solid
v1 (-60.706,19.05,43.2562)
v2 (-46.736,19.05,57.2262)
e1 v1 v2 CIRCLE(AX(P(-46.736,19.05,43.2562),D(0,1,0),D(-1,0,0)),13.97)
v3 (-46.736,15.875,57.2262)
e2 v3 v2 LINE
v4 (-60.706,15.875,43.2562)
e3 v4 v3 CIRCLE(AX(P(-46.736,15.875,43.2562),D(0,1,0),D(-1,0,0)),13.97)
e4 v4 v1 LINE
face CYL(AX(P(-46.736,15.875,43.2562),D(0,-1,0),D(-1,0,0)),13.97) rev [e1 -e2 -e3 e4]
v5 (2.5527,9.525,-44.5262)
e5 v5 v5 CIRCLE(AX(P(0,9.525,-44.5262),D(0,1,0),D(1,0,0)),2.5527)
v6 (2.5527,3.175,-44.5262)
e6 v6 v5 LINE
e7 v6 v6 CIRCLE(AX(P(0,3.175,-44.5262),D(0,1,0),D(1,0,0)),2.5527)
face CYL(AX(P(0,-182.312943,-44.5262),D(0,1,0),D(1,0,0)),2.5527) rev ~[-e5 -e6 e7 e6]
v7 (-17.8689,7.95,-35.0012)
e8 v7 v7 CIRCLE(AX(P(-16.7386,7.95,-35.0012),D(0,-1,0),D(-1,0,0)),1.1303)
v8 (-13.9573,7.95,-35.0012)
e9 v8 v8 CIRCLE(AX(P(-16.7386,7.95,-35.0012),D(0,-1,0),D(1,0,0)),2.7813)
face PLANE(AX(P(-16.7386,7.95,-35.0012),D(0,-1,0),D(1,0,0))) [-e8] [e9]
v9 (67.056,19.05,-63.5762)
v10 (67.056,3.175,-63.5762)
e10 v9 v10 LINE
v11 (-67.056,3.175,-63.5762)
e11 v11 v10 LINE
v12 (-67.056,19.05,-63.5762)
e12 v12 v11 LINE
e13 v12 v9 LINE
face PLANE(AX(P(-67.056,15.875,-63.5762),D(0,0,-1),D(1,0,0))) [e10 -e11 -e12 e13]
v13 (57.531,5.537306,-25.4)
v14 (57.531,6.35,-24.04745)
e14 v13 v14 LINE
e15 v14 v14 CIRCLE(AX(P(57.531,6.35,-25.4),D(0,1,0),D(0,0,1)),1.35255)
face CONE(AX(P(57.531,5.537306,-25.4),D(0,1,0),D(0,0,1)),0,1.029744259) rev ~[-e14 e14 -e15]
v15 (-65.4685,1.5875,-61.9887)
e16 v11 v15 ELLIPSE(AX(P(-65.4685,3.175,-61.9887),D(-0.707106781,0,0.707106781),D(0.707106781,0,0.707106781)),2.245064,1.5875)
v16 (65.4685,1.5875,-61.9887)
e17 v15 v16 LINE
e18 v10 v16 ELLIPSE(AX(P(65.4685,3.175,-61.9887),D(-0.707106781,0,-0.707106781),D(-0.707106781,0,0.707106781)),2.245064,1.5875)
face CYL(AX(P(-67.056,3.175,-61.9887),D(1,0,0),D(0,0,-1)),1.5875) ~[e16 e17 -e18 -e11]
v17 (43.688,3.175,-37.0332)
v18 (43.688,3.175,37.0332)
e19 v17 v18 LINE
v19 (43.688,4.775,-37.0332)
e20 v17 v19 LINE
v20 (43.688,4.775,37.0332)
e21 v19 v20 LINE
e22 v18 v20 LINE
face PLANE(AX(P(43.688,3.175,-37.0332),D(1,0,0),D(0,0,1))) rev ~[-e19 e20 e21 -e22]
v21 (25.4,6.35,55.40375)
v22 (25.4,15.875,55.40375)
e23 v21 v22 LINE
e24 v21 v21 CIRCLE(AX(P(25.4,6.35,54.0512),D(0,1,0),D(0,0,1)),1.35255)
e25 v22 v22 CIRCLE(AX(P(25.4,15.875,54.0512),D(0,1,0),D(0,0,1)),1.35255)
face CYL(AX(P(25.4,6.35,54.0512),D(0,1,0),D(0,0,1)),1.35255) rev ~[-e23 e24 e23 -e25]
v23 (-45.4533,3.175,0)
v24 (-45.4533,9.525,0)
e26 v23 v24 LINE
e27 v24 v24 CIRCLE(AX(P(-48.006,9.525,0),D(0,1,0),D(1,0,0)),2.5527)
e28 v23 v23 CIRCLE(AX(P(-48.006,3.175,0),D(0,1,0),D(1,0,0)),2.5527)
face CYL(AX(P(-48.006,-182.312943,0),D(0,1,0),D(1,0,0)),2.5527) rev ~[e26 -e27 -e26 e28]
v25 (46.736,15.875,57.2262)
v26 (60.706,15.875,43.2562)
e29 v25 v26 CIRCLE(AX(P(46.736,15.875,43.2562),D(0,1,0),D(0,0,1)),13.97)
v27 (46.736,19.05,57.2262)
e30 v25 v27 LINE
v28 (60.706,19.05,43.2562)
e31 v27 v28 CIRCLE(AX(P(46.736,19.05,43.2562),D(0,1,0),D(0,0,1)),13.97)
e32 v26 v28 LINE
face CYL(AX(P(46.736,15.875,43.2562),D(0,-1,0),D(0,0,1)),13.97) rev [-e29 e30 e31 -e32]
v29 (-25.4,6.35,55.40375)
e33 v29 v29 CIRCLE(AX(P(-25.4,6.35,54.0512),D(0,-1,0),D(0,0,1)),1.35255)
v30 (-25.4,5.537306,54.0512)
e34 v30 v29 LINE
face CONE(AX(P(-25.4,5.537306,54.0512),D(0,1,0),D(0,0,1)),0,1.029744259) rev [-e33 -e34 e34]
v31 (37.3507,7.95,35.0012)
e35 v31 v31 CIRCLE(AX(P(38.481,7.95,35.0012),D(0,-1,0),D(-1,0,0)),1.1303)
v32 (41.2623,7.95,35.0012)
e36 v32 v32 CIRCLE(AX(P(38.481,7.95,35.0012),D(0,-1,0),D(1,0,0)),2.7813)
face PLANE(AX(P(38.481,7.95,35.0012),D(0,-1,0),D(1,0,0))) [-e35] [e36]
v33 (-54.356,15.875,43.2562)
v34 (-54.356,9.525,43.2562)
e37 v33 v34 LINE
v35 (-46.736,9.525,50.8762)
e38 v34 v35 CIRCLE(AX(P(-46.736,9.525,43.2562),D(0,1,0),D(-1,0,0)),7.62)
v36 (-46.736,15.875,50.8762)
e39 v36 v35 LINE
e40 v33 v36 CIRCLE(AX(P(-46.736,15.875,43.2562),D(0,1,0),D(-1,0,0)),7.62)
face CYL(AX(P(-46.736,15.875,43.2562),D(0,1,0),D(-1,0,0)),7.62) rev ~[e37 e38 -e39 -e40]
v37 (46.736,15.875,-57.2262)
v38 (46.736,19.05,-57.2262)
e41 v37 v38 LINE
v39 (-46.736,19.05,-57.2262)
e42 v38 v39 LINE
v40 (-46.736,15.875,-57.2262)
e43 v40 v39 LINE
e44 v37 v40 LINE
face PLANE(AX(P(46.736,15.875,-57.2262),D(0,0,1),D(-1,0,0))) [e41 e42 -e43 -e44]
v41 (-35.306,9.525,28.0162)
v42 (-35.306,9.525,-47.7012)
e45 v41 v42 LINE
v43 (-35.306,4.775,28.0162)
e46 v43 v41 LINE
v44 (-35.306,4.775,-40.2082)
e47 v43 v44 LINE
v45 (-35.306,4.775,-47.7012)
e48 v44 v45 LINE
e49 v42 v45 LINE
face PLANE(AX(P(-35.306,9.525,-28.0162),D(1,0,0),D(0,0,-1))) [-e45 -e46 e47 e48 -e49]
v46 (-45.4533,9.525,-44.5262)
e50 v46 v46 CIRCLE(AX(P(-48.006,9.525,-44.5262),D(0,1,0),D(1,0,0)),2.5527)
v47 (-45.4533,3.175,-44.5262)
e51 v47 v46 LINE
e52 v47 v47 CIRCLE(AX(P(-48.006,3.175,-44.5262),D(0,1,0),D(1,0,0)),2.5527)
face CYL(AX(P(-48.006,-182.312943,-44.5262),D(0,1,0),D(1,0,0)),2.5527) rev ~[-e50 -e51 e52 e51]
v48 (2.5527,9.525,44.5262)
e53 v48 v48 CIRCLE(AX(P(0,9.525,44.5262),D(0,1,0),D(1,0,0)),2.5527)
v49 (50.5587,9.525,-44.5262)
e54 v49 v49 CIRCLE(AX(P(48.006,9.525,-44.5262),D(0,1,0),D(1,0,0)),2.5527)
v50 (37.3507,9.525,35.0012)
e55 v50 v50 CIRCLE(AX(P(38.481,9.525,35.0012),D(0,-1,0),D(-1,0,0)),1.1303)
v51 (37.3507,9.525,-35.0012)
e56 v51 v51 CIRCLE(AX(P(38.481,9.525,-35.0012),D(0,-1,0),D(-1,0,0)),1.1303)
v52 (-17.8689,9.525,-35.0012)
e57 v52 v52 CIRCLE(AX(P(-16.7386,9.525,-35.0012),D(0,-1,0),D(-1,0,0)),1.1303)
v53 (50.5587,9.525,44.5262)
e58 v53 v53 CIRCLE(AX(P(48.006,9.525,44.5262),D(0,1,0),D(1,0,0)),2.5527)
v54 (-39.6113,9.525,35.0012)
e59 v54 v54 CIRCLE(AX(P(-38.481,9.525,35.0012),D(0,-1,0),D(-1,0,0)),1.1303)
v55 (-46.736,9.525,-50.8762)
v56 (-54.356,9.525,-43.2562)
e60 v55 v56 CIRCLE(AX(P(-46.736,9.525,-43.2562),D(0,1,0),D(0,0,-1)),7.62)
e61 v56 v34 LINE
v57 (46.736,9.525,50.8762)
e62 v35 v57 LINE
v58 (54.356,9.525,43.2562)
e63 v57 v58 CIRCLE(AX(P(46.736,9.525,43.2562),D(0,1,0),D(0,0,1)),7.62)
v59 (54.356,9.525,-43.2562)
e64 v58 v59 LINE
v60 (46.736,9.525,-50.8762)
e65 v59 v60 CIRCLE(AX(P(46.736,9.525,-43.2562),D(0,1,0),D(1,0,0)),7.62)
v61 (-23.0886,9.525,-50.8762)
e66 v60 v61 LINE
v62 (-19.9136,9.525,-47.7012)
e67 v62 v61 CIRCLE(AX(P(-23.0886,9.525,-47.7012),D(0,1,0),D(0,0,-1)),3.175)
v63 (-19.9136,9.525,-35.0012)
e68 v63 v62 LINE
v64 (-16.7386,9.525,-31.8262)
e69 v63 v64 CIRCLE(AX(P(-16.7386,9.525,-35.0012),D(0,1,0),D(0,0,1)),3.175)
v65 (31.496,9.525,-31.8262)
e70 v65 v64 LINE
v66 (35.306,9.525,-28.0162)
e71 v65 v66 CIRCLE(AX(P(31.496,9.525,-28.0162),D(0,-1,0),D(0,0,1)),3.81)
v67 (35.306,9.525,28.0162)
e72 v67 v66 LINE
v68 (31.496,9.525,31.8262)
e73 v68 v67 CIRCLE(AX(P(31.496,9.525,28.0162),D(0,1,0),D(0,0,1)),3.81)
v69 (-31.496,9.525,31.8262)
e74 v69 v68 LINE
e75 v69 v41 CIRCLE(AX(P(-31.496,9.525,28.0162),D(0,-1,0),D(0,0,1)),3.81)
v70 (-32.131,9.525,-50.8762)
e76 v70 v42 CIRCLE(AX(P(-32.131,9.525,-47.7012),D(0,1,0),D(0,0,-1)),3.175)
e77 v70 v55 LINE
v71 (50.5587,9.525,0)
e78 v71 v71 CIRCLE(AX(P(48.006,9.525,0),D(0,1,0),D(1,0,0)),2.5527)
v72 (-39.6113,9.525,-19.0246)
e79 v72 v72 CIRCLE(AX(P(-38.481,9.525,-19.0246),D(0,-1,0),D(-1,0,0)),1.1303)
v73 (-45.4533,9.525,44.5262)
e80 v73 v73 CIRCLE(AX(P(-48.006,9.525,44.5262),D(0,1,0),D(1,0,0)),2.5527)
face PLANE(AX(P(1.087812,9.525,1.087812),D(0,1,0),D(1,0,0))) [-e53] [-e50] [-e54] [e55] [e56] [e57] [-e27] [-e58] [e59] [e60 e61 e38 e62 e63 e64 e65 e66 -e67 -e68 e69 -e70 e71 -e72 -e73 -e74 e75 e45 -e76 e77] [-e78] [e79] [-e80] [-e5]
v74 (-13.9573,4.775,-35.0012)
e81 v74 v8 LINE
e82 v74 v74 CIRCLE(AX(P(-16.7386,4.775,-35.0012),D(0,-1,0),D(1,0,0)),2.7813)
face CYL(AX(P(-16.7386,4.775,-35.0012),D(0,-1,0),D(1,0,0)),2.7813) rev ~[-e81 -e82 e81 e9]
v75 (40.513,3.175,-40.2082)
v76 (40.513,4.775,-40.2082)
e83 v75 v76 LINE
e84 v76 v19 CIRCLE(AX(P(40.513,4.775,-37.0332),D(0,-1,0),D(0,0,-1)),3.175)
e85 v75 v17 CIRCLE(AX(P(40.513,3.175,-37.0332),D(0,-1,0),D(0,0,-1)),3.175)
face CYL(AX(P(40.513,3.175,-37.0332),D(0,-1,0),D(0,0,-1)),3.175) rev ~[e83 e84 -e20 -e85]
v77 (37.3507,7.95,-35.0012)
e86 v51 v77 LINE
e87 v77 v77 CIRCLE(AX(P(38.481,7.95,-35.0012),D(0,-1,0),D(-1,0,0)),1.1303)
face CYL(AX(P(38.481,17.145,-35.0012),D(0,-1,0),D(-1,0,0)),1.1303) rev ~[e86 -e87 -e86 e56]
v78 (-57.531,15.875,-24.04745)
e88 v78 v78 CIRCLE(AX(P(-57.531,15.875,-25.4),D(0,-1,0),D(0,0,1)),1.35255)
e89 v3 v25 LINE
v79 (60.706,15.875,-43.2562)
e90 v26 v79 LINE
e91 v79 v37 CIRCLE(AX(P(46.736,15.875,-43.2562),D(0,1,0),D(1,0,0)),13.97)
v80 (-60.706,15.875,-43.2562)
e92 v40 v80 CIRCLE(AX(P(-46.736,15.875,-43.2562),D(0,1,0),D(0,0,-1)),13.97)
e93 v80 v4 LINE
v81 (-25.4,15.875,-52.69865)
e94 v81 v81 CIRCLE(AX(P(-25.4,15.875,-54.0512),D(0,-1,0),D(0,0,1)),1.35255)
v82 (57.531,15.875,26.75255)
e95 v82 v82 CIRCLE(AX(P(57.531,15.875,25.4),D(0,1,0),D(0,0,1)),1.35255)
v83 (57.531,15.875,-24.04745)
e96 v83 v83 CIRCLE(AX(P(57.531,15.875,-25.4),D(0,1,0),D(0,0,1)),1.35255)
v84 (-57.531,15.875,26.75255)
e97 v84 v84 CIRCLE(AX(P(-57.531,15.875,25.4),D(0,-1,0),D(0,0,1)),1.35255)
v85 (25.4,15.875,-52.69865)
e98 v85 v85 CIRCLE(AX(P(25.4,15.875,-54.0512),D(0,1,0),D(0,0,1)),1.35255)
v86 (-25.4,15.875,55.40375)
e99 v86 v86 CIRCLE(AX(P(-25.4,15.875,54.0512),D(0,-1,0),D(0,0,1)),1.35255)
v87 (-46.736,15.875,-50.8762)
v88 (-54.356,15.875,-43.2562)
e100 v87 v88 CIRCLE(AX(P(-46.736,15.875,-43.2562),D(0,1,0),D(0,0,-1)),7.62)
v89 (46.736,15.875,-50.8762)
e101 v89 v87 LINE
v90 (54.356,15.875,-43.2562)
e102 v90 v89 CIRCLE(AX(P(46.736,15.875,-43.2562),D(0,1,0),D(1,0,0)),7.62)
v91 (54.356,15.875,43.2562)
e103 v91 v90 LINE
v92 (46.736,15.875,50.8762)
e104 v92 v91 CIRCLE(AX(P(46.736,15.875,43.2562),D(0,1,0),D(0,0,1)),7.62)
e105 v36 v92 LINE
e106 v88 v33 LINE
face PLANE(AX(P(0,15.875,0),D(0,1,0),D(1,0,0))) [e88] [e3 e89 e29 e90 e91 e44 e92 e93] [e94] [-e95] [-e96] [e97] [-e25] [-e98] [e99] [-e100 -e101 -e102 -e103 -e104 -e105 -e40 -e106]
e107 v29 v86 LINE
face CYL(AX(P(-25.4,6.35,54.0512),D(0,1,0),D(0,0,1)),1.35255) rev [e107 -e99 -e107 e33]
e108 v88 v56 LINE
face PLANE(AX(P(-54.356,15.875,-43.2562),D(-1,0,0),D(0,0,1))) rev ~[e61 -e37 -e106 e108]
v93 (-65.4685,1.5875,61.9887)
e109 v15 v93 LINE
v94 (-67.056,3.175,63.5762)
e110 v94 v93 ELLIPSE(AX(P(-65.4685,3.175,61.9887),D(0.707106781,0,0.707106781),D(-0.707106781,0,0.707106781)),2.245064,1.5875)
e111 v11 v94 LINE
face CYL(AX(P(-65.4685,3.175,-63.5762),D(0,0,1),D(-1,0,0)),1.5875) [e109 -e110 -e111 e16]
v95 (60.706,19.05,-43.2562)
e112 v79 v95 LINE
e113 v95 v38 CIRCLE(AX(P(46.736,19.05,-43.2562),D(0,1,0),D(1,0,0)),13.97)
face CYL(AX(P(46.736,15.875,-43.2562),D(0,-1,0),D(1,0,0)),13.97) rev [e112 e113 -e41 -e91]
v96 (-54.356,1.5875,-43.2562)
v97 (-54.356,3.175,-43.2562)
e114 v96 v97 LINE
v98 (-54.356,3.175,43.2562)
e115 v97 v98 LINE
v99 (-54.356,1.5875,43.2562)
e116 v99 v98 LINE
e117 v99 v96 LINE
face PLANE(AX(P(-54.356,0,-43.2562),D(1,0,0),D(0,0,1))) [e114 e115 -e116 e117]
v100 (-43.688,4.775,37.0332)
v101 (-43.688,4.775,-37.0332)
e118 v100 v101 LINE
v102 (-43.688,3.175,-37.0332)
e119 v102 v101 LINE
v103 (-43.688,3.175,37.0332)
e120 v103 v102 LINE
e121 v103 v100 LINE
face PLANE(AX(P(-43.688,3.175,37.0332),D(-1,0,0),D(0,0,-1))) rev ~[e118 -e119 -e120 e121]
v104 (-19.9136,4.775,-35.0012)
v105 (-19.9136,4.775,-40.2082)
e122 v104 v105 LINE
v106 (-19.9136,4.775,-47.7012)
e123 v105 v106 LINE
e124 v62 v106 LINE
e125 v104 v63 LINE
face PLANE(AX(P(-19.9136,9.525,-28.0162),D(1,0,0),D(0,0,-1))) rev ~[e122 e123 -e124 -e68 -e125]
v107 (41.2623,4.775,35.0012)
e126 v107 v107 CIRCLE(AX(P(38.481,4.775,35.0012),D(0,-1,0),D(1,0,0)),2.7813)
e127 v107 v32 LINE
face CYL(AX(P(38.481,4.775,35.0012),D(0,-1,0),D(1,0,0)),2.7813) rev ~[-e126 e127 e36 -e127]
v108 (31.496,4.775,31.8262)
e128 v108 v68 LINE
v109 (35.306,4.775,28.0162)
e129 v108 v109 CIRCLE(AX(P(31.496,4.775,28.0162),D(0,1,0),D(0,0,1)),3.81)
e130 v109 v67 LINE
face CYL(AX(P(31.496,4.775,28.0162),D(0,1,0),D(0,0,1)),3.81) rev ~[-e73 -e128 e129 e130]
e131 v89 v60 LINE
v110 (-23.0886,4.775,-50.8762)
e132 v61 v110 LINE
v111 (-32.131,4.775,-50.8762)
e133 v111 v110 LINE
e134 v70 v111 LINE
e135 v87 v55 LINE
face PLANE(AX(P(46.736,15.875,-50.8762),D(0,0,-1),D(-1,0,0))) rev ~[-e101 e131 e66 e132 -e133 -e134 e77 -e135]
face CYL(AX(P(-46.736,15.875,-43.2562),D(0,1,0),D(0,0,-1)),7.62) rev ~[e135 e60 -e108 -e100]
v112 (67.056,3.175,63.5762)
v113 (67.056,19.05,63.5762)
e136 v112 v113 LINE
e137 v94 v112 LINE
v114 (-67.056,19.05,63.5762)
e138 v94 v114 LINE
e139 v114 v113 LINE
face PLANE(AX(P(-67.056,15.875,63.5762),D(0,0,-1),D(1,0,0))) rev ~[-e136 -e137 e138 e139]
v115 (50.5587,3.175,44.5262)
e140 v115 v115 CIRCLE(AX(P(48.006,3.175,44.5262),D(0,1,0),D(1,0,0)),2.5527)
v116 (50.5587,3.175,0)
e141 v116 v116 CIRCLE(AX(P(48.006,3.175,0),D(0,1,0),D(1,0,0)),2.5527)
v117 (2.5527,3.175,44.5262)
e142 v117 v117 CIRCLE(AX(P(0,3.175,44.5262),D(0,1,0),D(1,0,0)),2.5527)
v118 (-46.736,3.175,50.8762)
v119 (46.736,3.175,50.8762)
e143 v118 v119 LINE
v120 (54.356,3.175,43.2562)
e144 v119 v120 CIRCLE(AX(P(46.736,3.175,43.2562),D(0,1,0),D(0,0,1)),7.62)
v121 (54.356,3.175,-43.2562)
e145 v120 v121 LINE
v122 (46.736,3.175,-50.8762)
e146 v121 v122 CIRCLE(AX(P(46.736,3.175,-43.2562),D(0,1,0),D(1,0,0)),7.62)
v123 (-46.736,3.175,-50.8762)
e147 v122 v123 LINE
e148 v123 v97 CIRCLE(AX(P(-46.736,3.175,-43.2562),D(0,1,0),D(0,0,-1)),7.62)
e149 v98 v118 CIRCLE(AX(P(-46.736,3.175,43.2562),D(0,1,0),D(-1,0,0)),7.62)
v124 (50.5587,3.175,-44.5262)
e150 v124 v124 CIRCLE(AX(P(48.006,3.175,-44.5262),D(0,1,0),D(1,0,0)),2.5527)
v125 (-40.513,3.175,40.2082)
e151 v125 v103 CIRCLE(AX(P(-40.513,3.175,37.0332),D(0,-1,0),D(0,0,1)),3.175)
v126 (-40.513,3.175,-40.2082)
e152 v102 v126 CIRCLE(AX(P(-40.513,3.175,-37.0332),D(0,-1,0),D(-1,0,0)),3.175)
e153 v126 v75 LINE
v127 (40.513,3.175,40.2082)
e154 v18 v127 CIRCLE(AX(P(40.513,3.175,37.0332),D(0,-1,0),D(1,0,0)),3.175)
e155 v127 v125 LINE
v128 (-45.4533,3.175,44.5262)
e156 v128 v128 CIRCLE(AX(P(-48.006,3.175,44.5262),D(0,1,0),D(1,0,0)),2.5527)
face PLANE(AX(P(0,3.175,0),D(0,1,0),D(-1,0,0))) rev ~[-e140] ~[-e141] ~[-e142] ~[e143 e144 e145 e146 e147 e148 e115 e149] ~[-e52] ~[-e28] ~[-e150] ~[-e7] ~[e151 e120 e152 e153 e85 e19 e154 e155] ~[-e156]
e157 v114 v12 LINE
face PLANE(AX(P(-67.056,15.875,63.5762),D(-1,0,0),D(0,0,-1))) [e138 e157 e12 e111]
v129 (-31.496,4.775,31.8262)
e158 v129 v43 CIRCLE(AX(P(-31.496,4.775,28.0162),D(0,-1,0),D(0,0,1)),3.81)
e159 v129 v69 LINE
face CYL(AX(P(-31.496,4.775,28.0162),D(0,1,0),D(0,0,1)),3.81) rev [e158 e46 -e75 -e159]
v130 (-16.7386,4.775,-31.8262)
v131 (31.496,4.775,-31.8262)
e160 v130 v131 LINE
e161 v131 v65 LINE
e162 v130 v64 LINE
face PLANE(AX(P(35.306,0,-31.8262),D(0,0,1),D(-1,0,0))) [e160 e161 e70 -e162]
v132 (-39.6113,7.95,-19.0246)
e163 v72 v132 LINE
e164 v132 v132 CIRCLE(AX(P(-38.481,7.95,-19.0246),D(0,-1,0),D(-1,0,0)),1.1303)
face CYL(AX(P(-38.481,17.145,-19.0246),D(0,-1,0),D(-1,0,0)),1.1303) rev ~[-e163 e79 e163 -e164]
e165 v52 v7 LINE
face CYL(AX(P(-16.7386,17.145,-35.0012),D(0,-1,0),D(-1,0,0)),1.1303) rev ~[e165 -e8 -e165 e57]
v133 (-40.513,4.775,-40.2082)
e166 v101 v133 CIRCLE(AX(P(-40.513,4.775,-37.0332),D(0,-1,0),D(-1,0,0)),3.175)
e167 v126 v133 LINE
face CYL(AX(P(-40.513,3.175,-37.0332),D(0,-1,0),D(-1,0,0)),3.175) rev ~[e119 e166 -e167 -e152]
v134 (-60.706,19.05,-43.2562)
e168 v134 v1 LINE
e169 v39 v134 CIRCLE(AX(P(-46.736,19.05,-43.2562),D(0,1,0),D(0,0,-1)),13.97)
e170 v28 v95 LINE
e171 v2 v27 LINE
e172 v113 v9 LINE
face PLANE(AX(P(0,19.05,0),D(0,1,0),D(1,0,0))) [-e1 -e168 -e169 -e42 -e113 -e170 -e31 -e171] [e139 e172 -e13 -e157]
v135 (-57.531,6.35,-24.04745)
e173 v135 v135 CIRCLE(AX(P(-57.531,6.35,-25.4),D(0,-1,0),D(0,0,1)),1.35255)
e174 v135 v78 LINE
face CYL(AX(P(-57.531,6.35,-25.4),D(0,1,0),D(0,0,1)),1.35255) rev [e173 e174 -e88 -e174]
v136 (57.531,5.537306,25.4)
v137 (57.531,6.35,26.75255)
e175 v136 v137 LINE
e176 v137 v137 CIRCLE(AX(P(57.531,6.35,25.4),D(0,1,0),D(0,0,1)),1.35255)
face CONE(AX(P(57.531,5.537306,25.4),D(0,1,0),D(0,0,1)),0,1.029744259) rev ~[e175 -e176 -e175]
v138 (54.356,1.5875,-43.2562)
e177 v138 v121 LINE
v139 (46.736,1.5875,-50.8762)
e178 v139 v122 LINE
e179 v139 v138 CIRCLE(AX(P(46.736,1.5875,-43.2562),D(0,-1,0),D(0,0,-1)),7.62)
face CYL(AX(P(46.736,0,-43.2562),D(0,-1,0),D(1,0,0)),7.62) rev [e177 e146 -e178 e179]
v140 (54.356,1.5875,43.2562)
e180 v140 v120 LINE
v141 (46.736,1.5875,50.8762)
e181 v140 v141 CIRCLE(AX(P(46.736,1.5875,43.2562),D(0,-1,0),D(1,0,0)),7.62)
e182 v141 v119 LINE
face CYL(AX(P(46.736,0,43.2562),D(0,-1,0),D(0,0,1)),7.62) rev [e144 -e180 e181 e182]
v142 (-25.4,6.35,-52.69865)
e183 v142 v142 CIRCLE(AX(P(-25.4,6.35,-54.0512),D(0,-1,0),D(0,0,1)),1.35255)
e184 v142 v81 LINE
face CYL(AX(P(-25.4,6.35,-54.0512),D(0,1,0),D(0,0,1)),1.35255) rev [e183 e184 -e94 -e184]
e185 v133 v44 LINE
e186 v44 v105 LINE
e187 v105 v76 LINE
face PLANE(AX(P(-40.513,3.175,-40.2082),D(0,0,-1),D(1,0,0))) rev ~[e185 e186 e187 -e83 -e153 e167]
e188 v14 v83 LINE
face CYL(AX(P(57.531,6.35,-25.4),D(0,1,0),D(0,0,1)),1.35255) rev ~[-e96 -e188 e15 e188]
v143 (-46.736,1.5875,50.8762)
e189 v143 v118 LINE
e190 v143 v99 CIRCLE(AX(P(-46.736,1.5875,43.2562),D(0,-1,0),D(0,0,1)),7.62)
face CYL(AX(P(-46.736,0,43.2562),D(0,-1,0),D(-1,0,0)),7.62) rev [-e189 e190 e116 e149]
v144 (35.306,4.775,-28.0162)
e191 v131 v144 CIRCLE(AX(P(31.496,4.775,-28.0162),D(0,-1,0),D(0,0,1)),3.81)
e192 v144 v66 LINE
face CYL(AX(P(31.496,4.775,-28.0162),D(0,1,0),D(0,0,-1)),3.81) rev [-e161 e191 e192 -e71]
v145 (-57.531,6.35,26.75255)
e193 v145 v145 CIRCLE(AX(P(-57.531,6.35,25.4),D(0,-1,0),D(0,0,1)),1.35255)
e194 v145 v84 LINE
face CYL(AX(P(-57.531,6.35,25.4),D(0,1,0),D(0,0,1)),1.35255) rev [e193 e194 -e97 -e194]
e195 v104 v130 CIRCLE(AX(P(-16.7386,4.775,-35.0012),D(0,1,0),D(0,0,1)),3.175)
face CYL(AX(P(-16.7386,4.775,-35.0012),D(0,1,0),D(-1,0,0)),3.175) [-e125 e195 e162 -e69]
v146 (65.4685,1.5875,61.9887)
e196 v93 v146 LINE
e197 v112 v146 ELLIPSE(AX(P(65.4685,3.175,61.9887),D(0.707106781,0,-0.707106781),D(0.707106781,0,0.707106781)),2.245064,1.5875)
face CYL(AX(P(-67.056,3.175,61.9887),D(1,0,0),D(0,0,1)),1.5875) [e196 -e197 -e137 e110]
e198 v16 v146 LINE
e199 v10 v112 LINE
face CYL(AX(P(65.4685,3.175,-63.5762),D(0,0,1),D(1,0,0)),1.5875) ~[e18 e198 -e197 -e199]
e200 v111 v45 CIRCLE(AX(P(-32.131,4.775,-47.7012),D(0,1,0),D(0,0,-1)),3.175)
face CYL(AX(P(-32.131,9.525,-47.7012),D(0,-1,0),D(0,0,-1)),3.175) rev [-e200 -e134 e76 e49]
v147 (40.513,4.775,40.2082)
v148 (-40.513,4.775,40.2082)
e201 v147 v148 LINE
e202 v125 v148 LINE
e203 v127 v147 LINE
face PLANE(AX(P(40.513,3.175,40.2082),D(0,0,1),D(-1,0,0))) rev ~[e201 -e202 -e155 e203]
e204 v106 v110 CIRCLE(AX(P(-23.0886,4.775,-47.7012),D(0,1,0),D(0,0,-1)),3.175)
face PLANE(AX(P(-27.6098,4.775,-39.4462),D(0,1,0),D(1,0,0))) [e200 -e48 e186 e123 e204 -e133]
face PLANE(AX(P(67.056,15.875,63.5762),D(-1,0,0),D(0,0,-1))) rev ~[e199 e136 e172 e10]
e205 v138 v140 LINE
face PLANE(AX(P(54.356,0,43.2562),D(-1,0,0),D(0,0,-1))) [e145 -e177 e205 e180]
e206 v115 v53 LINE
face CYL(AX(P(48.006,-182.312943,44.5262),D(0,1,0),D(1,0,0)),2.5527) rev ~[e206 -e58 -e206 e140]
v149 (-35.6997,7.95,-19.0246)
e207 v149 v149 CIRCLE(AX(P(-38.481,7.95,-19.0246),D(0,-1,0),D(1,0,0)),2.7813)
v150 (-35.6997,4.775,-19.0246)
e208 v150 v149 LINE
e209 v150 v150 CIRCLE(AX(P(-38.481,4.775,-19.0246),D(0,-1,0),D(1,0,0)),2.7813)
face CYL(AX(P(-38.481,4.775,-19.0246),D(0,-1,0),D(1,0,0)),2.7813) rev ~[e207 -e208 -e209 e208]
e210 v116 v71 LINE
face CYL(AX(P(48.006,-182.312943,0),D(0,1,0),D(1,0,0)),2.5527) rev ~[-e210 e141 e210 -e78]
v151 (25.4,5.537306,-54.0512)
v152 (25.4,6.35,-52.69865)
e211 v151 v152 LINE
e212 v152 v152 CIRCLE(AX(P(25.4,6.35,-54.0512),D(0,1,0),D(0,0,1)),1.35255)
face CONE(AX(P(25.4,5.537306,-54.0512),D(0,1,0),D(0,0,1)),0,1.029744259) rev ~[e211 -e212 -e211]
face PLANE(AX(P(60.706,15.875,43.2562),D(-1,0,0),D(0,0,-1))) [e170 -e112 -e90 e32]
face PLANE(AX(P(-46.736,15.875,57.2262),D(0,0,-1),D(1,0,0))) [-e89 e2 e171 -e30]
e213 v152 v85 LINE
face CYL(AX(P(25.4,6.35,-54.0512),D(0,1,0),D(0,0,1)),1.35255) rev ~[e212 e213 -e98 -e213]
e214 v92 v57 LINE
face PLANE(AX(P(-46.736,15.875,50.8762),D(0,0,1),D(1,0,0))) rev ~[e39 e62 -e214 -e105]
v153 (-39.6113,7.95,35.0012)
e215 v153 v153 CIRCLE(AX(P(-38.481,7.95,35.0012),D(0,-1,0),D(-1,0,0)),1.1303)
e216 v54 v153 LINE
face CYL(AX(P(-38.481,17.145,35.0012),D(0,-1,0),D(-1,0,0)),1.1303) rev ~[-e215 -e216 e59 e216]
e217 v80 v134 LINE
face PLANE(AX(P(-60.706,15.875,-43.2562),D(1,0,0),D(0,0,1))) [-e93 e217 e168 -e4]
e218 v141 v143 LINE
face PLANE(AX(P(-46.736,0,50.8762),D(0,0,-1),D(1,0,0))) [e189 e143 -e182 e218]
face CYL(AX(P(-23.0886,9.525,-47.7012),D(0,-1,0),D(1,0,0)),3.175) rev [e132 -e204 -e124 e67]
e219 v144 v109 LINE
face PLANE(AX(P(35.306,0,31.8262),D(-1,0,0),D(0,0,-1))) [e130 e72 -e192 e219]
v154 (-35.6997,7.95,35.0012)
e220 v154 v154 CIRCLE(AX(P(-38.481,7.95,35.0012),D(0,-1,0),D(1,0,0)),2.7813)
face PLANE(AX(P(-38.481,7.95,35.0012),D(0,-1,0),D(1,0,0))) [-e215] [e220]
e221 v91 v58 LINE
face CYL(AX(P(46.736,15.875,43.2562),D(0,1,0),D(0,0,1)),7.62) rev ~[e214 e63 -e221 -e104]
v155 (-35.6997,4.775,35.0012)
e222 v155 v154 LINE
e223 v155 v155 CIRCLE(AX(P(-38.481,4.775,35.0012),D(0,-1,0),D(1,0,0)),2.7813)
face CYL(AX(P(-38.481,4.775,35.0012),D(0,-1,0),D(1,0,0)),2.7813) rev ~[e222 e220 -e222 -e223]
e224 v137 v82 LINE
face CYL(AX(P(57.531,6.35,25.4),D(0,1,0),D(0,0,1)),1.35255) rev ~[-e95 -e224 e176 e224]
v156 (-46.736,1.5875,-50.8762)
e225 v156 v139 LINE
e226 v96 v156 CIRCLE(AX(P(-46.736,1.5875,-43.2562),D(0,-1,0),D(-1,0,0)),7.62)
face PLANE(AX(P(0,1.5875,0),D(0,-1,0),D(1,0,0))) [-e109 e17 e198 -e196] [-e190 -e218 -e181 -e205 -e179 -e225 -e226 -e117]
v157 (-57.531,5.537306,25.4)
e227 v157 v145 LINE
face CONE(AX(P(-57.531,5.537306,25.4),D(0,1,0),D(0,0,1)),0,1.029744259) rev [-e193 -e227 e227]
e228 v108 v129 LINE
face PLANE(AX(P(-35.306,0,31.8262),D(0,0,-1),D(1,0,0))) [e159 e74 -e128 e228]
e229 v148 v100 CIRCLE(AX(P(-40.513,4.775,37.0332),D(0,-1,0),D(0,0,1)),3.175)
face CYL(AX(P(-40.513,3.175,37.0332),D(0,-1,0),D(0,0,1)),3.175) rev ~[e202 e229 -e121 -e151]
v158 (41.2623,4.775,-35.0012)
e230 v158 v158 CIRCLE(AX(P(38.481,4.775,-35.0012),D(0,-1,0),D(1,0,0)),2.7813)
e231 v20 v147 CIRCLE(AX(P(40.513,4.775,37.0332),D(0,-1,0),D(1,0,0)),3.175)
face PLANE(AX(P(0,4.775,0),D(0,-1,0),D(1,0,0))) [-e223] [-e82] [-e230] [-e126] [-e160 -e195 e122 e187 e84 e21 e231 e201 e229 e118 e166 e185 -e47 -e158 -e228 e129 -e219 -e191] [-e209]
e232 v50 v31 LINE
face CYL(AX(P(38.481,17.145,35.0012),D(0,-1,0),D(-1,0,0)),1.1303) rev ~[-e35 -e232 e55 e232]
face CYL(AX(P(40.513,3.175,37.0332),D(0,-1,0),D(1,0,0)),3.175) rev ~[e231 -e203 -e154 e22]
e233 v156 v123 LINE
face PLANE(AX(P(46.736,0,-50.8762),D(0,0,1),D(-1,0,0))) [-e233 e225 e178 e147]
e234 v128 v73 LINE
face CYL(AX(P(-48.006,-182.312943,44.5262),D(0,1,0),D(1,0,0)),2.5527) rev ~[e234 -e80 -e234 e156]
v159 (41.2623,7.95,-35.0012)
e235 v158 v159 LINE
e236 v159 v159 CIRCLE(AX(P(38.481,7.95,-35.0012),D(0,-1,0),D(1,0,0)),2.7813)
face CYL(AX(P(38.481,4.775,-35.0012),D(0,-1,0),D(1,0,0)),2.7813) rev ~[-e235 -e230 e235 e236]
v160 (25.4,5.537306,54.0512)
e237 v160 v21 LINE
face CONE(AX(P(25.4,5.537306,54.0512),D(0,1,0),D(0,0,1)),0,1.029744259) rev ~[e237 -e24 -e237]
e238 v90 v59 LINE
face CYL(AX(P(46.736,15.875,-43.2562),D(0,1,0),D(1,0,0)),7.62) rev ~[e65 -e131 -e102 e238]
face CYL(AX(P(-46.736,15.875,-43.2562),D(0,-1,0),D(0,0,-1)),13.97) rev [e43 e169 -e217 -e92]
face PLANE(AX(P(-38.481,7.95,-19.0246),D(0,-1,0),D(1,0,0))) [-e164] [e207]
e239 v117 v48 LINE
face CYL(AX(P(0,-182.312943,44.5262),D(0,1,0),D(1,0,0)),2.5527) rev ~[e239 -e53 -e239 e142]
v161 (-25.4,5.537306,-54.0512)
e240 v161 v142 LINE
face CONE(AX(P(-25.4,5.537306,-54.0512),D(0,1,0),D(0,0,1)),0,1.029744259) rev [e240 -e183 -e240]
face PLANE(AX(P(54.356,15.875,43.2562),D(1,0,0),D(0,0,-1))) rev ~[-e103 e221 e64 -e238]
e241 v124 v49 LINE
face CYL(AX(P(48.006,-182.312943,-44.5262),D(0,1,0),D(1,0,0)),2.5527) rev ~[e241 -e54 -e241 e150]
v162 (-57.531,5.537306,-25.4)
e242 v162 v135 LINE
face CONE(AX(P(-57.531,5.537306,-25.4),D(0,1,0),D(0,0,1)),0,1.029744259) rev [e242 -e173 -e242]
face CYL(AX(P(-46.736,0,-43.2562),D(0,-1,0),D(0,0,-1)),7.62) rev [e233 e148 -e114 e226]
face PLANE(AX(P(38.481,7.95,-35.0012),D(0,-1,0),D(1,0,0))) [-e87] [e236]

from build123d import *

# Parameters (mm, degrees)
SKETCH2_W                      = 134.112
SKETCH2_H                      = 127.1524
SKETCH2_W_2                    = 83.312
SKETCH2_H_2                    = 76.3524
SKETCH2_W_3                    = 21.7424
SKETCH2_H_3                    = 15.9766
BOSS_EXTRUDE1_DEPTH            = 15.875
BOSS_EXTRUDE2_DEPTH            = 9.525
CUT_EXTRUDE2_DEPTH             = 3.175
M2_5X0_45_TAPPED_HOLE1_D       = 2.05
M2_5X0_45_TAPPED_HOLE1_DEPTH   = 6.35
M2_5X0_45_TAPPED_HOLE1_TIP     = 0.615882135
F_10_CLEARANCE_HOLE1_D         = 5.1054
CUT_EXTRUDE3_DEPTH             = 6.35
CUT_EXTRUDE4_DEPTH             = 1.6
SKETCH12_W                     = 70.612
SKETCH12_H                     = 63.6524
CUT_EXTRUDE5_DEPTH             = 12.1
FILLET1_R                      = 3.81
SKETCH13_W                     = 134.112
SKETCH13_H                     = 127.1524
CUT_EXTRUDE6_DEPTH             = 1.5875
FILLET2_R                      = 1.5875
SKETCH14_W                     = 15.3924
SKETCH14_H                     = 22.86
CUT_EXTRUDE7_DEPTH             = 4.75
FILLET3_R                      = 3.175
SKETCH15_W                     = 134.112
SKETCH15_H                     = 127.1524
BOSS_EXTRUDE3_DEPTH            = 3.175
F_6_32_TAPPED_HOLE1_AT_2_COUNT = 2
F_6_32_TAPPED_HOLE1_AT_2_PITCH = 108.1024
F_6_32_TAPPED_HOLE1_AT_3_COUNT = 2
F_6_32_TAPPED_HOLE1_AT_3_PITCH = 85.702359025
F_6_32_TAPPED_HOLE1_AT_4_COUNT = 2
F_6_32_TAPPED_HOLE1_AT_4_PITCH = 43.049882955
SKETCH19_R                     = 2.7813
CUT_EXTRUDE8_DEPTH             = 3.175
F_4_40_TAPPED_HOLE1_D          = 2.2606
F_4_40_TAPPED_HOLE1_DEPTH      = 7.62
F_4_40_TAPPED_HOLE1_TIP        = 0.679152758


with BuildPart() as part:
    # Sketch2 → Boss-Extrude1 (new body)
    with BuildSketch(Plane(origin=(0, 0, 0), x_dir=(1, 0, 0), z_dir=(0, 1, 0))):
        Rectangle(SKETCH2_W, SKETCH2_H)
        Rectangle(SKETCH2_W_2, SKETCH2_H_2, mode=Mode.SUBTRACT)
        with Locations((-30.7848, 30.1879)):
            Rectangle(SKETCH2_W_3, SKETCH2_H_3)
    extrude(amount=BOSS_EXTRUDE1_DEPTH)

    # Sketch4 → Boss-Extrude2 (add)
    with BuildSketch(Plane(origin=(0, 0, 0), x_dir=(1, 0, 0), z_dir=(0, 1, 0))):
        Polygon((41.656, -38.1762), (41.656, 38.1762), (-19.9136, 38.1762), (-19.9136, 22.1996), (-41.656, 22.1996), (-41.656, -38.1762), align=None)
        Polygon((35.306, 31.8262), (-13.5636, 31.8262), (-13.5636, 15.8496), (-35.306, 15.8496), (-35.306, -31.8262), (35.306, -31.8262), align=None, mode=Mode.SUBTRACT)
    extrude(amount=BOSS_EXTRUDE2_DEPTH)

    # Sketch5 → Cut-Extrude2 (cut)
    with BuildSketch(Plane.XZ):
        with BuildLine():
            Line((46.736, -50.8762), (-46.736, -50.8762))
            ThreePointArc((-46.736, -50.8762), (-52.124153673, -48.644353673), (-54.356, -43.2562))
            Line((-54.356, -43.2562), (-54.356, 43.2562))
            ThreePointArc((-54.356, 43.2562), (-52.124153673, 48.644353673), (-46.736, 50.8762))
            Line((-46.736, 50.8762), (46.736, 50.8762))
            ThreePointArc((46.736, 50.8762), (52.124153673, 48.644353673), (54.356, 43.2562))
            Line((54.356, 43.2562), (54.356, -43.2562))
            ThreePointArc((54.356, -43.2562), (52.124153673, -48.644353673), (46.736, -50.8762))
        make_face()
    extrude(amount=-CUT_EXTRUDE2_DEPTH, mode=Mode.SUBTRACT)

    # M2.5x0.45 Tapped Hole1
    with Locations(Plane(origin=(0, 3.175, 0), x_dir=(-1, 0, 0), z_dir=(0, -1, 0))):
        with Locations((38.481, -35.0012), (-38.481, -35.0012), (38.481, 19.0246), (16.7386, 35.0012), (-38.481, 35.0012)):
            Hole(M2_5X0_45_TAPPED_HOLE1_D / 2, depth=M2_5X0_45_TAPPED_HOLE1_DEPTH)
            with Locations((0, 0, -(M2_5X0_45_TAPPED_HOLE1_DEPTH + M2_5X0_45_TAPPED_HOLE1_TIP / 2))):  # 118° drill point
                Cone(0, M2_5X0_45_TAPPED_HOLE1_D / 2, M2_5X0_45_TAPPED_HOLE1_TIP, mode=Mode.SUBTRACT)

    # #10 Clearance Hole1 (through all)
    with Locations(Plane(origin=(0, 3.175, 0), x_dir=(-1, 0, 0), z_dir=(0, -1, 0))):
        with Locations((48.006, -44.5262), (0, -44.5262), (-48.006, -44.5262), (-48.006, 0), (-48.006, 44.5262), (0, 44.5262), (48.006, 44.5262), (48.006, 0)):
            Hole(F_10_CLEARANCE_HOLE1_D / 2)

    # Sketch10 → Cut-Extrude3 (cut)
    with BuildSketch(Plane(origin=(0, 15.875, 0), x_dir=(1, 0, 0), z_dir=(0, 1, 0))):
        with BuildLine():
            Line((54.356, -43.2562), (54.356, 43.2562))
            ThreePointArc((54.356, 43.2562), (52.124153673, 48.644353673), (46.736, 50.8762))
            Line((46.736, 50.8762), (-46.736, 50.8762))
            ThreePointArc((-46.736, 50.8762), (-52.124153673, 48.644353673), (-54.356, 43.2562))
            Line((-54.356, 43.2562), (-54.356, -43.2562))
            ThreePointArc((-54.356, -43.2562), (-52.124153673, -48.644353673), (-46.736, -50.8762))
            Line((-46.736, -50.8762), (46.736, -50.8762))
            ThreePointArc((46.736, -50.8762), (52.124153673, -48.644353673), (54.356, -43.2562))
        make_face()
    extrude(amount=-CUT_EXTRUDE3_DEPTH, mode=Mode.SUBTRACT)

    # Sketch11 → Cut-Extrude4 (cut)
    with BuildSketch(Plane.XZ.offset(-3.175)):
        with BuildLine():
            Line((40.513, 40.2082), (-40.513, 40.2082))
            ThreePointArc((-40.513, 40.2082), (-42.75806403, 39.27826403), (-43.688, 37.0332))
            Line((-43.688, 37.0332), (-43.688, -37.0332))
            ThreePointArc((-43.688, -37.0332), (-42.75806403, -39.27826403), (-40.513, -40.2082))
            Line((-40.513, -40.2082), (40.513, -40.2082))
            ThreePointArc((40.513, -40.2082), (42.75806403, -39.27826403), (43.688, -37.0332))
            Line((43.688, -37.0332), (43.688, 37.0332))
            ThreePointArc((43.688, 37.0332), (42.75806403, 39.27826403), (40.513, 40.2082))
        make_face()
    extrude(amount=-CUT_EXTRUDE4_DEPTH, mode=Mode.SUBTRACT)

    # Sketch12 → Cut-Extrude5 (cut, through all)
    with BuildSketch(Plane.XZ.offset(-4.775)):
        Rectangle(SKETCH12_W, SKETCH12_H)
    extrude(amount=-CUT_EXTRUDE5_DEPTH, mode=Mode.SUBTRACT)

    # Fillet1
    fillet1_edges = [part.edges().sort_by_distance(p)[0] for p in [
        (-35.306, 7.15, -31.8262),
        (35.306, 7.15, -31.8262),
        (-35.306, 7.15, 31.8262),
        (35.306, 7.15, 31.8262),
    ]]
    fillet(fillet1_edges, radius=FILLET1_R)

    # Sketch13 → Cut-Extrude6 (cut)
    with BuildSketch(Plane.XZ):
        Rectangle(SKETCH13_W, SKETCH13_H)
        with BuildLine():
            Line((54.356, -43.2562), (54.356, 43.2562))
            ThreePointArc((54.356, 43.2562), (52.124153673, 48.644353673), (46.736, 50.8762))
            Line((46.736, 50.8762), (-46.736, 50.8762))
            ThreePointArc((-46.736, 50.8762), (-52.124153673, 48.644353673), (-54.356, 43.2562))
            Line((-54.356, 43.2562), (-54.356, -43.2562))
            ThreePointArc((-54.356, -43.2562), (-52.124153673, -48.644353673), (-46.736, -50.8762))
            Line((-46.736, -50.8762), (46.736, -50.8762))
            ThreePointArc((46.736, -50.8762), (52.124153673, -48.644353673), (54.356, -43.2562))
        make_face(mode=Mode.SUBTRACT)
    extrude(amount=-CUT_EXTRUDE6_DEPTH, mode=Mode.SUBTRACT)

    # Fillet2
    fillet2_edges = [part.edges().sort_by_distance(p)[0] for p in [
        (67.056, 1.5875, 0),
        (0, 1.5875, -63.5762),
        (-67.056, 1.5875, 0),
        (0, 1.5875, 63.5762),
    ]]
    fillet(fillet2_edges, radius=FILLET2_R)

    # Sketch14 → Cut-Extrude7 (cut)
    with BuildSketch(Plane(origin=(0, 9.525, 0), x_dir=(1, 0, 0), z_dir=(0, 1, 0))):
        with Locations((-27.6098, 39.4462)):
            Rectangle(SKETCH14_W, SKETCH14_H)
    extrude(amount=-CUT_EXTRUDE7_DEPTH, mode=Mode.SUBTRACT)

    # Fillet3
    fillet3_edges = [part.edges().sort_by_distance(p)[0] for p in [
        (-19.9136, 7.15, -31.8262),
        (-19.9136, 7.15, -50.8762),
        (-35.306, 7.15, -50.8762),
    ]]
    fillet(fillet3_edges, radius=FILLET3_R)

    # Sketch15 → Boss-Extrude3 (add)
    with BuildSketch(Plane(origin=(0, 15.875, 0), x_dir=(1, 0, 0), z_dir=(0, 1, 0))):
        Rectangle(SKETCH15_W, SKETCH15_H)
        with BuildLine():
            ThreePointArc((46.736, -57.2262), (56.614281733, -53.134481733), (60.706, -43.2562))
            Line((60.706, -43.2562), (60.706, 43.2562))
            ThreePointArc((60.706, 43.2562), (56.614281733, 53.134481733), (46.736, 57.2262))
            Line((46.736, 57.2262), (-46.736, 57.2262))
            ThreePointArc((-46.736, 57.2262), (-56.614281733, 53.134481733), (-60.706, 43.2562))
            Line((-60.706, 43.2562), (-60.706, -43.2562))
            ThreePointArc((-60.706, -43.2562), (-56.614281733, -53.134481733), (-46.736, -57.2262))
            Line((-46.736, -57.2262), (46.736, -57.2262))
        make_face(mode=Mode.SUBTRACT)
    extrude(amount=BOSS_EXTRUDE3_DEPTH)

    # Sketch18 → #6-32 Tapped Hole1 (revolve, cut)
    with BuildSketch(Plane(origin=(-25.4, 15.875, 54.0512), x_dir=(0, 0, 1), z_dir=(1, 0, 0))):
        Polygon((0, 0), (0, 10.33769403), (1.35255, 9.525), (1.35255, 0), align=None)
    f_6_32_tapped_hole1 = revolve(axis=Axis((-25.4, 22.225, 54.0512), (0, -1, 0)), mode=Mode.SUBTRACT)

    # #6-32 Tapped Hole1 at 2: #6-32 Tapped Hole1 ×2
    with Locations(*[(0, 0, -i * F_6_32_TAPPED_HOLE1_AT_2_PITCH) for i in range(1, F_6_32_TAPPED_HOLE1_AT_2_COUNT)]):
        add(f_6_32_tapped_hole1, mode=Mode.SUBTRACT)

    # #6-32 Tapped Hole1 at 3: #6-32 Tapped Hole1 ×2
    with Locations(*[Vector(-0.374913834, 0, -0.927059662) * (i * F_6_32_TAPPED_HOLE1_AT_3_PITCH) for i in range(1, F_6_32_TAPPED_HOLE1_AT_3_COUNT)]):
        add(f_6_32_tapped_hole1, mode=Mode.SUBTRACT)

    # #6-32 Tapped Hole1 at 4: #6-32 Tapped Hole1 ×2
    with Locations(*[Vector(-0.746366721, 0, -0.665534911) * (i * F_6_32_TAPPED_HOLE1_AT_4_PITCH) for i in range(1, F_6_32_TAPPED_HOLE1_AT_4_COUNT)]):
        add(f_6_32_tapped_hole1, mode=Mode.SUBTRACT)

    # Mirror1: #6-32 Tapped Hole1 across plane
    add(f_6_32_tapped_hole1.mirror(Plane(origin=(0, 0, 0), x_dir=(0, 0, 1), z_dir=(1, 0, 0))), mode=Mode.SUBTRACT)

    # Mirror1 copy 1 sketch → Mirror1 copy 1 (revolve, cut)
    with BuildSketch(Plane(origin=(25.4, 15.875, -54.0512), x_dir=(0, 0, 1), z_dir=(-1, 0, 0))):
        Polygon((0, 0), (0, -10.33769403), (1.35255, -9.525), (1.35255, 0), align=None)
    revolve(axis=Axis((25.4, 22.225, -54.0512), (0, 1, 0)), mode=Mode.SUBTRACT)

    # Mirror1 copy 2 sketch → Mirror1 copy 2 (revolve, cut)
    with BuildSketch(Plane(origin=(57.531, 15.875, -25.4), x_dir=(0, 0, 1), z_dir=(-1, 0, 0))):
        Polygon((0, 0), (0, -10.33769403), (1.35255, -9.525), (1.35255, 0), align=None)
    revolve(axis=Axis((57.531, 22.225, -25.4), (0, 1, 0)), mode=Mode.SUBTRACT)

    # Mirror1 copy 3 sketch → Mirror1 copy 3 (revolve, cut)
    with BuildSketch(Plane(origin=(57.531, 15.875, 25.4), x_dir=(0, 0, 1), z_dir=(-1, 0, 0))):
        Polygon((0, 0), (0, -10.33769403), (1.35255, -9.525), (1.35255, 0), align=None)
    revolve(axis=Axis((57.531, 22.225, 25.4), (0, 1, 0)), mode=Mode.SUBTRACT)

    # Sketch19 → Cut-Extrude8 (cut)
    with BuildSketch(Plane.XZ.offset(-4.775)):
        with Locations((38.481, 35.0012)):
            Circle(SKETCH19_R)
        with Locations((38.481, -35.0012)):
            Circle(SKETCH19_R)
        with Locations((-38.481, 35.0012)):
            Circle(SKETCH19_R)
        with Locations((-38.481, -19.0246)):
            Circle(SKETCH19_R)
        with Locations((-16.7386, -35.0012)):
            Circle(SKETCH19_R)
    extrude(amount=-CUT_EXTRUDE8_DEPTH, mode=Mode.SUBTRACT)

    # #4-40 Tapped Hole1
    with Locations(Plane(origin=(0, 9.525, 0), x_dir=(1, 0, 0), z_dir=(0, 1, 0))):
        with Locations((-38.481, 19.0246), (-16.7386, 35.0012), (38.481, 35.0012), (38.481, -35.0012), (-38.481, -35.0012)):
            Hole(F_4_40_TAPPED_HOLE1_D / 2, depth=F_4_40_TAPPED_HOLE1_DEPTH)
            with Locations((0, 0, -(F_4_40_TAPPED_HOLE1_DEPTH + F_4_40_TAPPED_HOLE1_TIP / 2))):  # 118° drill point
                Cone(0, F_4_40_TAPPED_HOLE1_D / 2, F_4_40_TAPPED_HOLE1_TIP, mode=Mode.SUBTRACT)


solid = part.part
